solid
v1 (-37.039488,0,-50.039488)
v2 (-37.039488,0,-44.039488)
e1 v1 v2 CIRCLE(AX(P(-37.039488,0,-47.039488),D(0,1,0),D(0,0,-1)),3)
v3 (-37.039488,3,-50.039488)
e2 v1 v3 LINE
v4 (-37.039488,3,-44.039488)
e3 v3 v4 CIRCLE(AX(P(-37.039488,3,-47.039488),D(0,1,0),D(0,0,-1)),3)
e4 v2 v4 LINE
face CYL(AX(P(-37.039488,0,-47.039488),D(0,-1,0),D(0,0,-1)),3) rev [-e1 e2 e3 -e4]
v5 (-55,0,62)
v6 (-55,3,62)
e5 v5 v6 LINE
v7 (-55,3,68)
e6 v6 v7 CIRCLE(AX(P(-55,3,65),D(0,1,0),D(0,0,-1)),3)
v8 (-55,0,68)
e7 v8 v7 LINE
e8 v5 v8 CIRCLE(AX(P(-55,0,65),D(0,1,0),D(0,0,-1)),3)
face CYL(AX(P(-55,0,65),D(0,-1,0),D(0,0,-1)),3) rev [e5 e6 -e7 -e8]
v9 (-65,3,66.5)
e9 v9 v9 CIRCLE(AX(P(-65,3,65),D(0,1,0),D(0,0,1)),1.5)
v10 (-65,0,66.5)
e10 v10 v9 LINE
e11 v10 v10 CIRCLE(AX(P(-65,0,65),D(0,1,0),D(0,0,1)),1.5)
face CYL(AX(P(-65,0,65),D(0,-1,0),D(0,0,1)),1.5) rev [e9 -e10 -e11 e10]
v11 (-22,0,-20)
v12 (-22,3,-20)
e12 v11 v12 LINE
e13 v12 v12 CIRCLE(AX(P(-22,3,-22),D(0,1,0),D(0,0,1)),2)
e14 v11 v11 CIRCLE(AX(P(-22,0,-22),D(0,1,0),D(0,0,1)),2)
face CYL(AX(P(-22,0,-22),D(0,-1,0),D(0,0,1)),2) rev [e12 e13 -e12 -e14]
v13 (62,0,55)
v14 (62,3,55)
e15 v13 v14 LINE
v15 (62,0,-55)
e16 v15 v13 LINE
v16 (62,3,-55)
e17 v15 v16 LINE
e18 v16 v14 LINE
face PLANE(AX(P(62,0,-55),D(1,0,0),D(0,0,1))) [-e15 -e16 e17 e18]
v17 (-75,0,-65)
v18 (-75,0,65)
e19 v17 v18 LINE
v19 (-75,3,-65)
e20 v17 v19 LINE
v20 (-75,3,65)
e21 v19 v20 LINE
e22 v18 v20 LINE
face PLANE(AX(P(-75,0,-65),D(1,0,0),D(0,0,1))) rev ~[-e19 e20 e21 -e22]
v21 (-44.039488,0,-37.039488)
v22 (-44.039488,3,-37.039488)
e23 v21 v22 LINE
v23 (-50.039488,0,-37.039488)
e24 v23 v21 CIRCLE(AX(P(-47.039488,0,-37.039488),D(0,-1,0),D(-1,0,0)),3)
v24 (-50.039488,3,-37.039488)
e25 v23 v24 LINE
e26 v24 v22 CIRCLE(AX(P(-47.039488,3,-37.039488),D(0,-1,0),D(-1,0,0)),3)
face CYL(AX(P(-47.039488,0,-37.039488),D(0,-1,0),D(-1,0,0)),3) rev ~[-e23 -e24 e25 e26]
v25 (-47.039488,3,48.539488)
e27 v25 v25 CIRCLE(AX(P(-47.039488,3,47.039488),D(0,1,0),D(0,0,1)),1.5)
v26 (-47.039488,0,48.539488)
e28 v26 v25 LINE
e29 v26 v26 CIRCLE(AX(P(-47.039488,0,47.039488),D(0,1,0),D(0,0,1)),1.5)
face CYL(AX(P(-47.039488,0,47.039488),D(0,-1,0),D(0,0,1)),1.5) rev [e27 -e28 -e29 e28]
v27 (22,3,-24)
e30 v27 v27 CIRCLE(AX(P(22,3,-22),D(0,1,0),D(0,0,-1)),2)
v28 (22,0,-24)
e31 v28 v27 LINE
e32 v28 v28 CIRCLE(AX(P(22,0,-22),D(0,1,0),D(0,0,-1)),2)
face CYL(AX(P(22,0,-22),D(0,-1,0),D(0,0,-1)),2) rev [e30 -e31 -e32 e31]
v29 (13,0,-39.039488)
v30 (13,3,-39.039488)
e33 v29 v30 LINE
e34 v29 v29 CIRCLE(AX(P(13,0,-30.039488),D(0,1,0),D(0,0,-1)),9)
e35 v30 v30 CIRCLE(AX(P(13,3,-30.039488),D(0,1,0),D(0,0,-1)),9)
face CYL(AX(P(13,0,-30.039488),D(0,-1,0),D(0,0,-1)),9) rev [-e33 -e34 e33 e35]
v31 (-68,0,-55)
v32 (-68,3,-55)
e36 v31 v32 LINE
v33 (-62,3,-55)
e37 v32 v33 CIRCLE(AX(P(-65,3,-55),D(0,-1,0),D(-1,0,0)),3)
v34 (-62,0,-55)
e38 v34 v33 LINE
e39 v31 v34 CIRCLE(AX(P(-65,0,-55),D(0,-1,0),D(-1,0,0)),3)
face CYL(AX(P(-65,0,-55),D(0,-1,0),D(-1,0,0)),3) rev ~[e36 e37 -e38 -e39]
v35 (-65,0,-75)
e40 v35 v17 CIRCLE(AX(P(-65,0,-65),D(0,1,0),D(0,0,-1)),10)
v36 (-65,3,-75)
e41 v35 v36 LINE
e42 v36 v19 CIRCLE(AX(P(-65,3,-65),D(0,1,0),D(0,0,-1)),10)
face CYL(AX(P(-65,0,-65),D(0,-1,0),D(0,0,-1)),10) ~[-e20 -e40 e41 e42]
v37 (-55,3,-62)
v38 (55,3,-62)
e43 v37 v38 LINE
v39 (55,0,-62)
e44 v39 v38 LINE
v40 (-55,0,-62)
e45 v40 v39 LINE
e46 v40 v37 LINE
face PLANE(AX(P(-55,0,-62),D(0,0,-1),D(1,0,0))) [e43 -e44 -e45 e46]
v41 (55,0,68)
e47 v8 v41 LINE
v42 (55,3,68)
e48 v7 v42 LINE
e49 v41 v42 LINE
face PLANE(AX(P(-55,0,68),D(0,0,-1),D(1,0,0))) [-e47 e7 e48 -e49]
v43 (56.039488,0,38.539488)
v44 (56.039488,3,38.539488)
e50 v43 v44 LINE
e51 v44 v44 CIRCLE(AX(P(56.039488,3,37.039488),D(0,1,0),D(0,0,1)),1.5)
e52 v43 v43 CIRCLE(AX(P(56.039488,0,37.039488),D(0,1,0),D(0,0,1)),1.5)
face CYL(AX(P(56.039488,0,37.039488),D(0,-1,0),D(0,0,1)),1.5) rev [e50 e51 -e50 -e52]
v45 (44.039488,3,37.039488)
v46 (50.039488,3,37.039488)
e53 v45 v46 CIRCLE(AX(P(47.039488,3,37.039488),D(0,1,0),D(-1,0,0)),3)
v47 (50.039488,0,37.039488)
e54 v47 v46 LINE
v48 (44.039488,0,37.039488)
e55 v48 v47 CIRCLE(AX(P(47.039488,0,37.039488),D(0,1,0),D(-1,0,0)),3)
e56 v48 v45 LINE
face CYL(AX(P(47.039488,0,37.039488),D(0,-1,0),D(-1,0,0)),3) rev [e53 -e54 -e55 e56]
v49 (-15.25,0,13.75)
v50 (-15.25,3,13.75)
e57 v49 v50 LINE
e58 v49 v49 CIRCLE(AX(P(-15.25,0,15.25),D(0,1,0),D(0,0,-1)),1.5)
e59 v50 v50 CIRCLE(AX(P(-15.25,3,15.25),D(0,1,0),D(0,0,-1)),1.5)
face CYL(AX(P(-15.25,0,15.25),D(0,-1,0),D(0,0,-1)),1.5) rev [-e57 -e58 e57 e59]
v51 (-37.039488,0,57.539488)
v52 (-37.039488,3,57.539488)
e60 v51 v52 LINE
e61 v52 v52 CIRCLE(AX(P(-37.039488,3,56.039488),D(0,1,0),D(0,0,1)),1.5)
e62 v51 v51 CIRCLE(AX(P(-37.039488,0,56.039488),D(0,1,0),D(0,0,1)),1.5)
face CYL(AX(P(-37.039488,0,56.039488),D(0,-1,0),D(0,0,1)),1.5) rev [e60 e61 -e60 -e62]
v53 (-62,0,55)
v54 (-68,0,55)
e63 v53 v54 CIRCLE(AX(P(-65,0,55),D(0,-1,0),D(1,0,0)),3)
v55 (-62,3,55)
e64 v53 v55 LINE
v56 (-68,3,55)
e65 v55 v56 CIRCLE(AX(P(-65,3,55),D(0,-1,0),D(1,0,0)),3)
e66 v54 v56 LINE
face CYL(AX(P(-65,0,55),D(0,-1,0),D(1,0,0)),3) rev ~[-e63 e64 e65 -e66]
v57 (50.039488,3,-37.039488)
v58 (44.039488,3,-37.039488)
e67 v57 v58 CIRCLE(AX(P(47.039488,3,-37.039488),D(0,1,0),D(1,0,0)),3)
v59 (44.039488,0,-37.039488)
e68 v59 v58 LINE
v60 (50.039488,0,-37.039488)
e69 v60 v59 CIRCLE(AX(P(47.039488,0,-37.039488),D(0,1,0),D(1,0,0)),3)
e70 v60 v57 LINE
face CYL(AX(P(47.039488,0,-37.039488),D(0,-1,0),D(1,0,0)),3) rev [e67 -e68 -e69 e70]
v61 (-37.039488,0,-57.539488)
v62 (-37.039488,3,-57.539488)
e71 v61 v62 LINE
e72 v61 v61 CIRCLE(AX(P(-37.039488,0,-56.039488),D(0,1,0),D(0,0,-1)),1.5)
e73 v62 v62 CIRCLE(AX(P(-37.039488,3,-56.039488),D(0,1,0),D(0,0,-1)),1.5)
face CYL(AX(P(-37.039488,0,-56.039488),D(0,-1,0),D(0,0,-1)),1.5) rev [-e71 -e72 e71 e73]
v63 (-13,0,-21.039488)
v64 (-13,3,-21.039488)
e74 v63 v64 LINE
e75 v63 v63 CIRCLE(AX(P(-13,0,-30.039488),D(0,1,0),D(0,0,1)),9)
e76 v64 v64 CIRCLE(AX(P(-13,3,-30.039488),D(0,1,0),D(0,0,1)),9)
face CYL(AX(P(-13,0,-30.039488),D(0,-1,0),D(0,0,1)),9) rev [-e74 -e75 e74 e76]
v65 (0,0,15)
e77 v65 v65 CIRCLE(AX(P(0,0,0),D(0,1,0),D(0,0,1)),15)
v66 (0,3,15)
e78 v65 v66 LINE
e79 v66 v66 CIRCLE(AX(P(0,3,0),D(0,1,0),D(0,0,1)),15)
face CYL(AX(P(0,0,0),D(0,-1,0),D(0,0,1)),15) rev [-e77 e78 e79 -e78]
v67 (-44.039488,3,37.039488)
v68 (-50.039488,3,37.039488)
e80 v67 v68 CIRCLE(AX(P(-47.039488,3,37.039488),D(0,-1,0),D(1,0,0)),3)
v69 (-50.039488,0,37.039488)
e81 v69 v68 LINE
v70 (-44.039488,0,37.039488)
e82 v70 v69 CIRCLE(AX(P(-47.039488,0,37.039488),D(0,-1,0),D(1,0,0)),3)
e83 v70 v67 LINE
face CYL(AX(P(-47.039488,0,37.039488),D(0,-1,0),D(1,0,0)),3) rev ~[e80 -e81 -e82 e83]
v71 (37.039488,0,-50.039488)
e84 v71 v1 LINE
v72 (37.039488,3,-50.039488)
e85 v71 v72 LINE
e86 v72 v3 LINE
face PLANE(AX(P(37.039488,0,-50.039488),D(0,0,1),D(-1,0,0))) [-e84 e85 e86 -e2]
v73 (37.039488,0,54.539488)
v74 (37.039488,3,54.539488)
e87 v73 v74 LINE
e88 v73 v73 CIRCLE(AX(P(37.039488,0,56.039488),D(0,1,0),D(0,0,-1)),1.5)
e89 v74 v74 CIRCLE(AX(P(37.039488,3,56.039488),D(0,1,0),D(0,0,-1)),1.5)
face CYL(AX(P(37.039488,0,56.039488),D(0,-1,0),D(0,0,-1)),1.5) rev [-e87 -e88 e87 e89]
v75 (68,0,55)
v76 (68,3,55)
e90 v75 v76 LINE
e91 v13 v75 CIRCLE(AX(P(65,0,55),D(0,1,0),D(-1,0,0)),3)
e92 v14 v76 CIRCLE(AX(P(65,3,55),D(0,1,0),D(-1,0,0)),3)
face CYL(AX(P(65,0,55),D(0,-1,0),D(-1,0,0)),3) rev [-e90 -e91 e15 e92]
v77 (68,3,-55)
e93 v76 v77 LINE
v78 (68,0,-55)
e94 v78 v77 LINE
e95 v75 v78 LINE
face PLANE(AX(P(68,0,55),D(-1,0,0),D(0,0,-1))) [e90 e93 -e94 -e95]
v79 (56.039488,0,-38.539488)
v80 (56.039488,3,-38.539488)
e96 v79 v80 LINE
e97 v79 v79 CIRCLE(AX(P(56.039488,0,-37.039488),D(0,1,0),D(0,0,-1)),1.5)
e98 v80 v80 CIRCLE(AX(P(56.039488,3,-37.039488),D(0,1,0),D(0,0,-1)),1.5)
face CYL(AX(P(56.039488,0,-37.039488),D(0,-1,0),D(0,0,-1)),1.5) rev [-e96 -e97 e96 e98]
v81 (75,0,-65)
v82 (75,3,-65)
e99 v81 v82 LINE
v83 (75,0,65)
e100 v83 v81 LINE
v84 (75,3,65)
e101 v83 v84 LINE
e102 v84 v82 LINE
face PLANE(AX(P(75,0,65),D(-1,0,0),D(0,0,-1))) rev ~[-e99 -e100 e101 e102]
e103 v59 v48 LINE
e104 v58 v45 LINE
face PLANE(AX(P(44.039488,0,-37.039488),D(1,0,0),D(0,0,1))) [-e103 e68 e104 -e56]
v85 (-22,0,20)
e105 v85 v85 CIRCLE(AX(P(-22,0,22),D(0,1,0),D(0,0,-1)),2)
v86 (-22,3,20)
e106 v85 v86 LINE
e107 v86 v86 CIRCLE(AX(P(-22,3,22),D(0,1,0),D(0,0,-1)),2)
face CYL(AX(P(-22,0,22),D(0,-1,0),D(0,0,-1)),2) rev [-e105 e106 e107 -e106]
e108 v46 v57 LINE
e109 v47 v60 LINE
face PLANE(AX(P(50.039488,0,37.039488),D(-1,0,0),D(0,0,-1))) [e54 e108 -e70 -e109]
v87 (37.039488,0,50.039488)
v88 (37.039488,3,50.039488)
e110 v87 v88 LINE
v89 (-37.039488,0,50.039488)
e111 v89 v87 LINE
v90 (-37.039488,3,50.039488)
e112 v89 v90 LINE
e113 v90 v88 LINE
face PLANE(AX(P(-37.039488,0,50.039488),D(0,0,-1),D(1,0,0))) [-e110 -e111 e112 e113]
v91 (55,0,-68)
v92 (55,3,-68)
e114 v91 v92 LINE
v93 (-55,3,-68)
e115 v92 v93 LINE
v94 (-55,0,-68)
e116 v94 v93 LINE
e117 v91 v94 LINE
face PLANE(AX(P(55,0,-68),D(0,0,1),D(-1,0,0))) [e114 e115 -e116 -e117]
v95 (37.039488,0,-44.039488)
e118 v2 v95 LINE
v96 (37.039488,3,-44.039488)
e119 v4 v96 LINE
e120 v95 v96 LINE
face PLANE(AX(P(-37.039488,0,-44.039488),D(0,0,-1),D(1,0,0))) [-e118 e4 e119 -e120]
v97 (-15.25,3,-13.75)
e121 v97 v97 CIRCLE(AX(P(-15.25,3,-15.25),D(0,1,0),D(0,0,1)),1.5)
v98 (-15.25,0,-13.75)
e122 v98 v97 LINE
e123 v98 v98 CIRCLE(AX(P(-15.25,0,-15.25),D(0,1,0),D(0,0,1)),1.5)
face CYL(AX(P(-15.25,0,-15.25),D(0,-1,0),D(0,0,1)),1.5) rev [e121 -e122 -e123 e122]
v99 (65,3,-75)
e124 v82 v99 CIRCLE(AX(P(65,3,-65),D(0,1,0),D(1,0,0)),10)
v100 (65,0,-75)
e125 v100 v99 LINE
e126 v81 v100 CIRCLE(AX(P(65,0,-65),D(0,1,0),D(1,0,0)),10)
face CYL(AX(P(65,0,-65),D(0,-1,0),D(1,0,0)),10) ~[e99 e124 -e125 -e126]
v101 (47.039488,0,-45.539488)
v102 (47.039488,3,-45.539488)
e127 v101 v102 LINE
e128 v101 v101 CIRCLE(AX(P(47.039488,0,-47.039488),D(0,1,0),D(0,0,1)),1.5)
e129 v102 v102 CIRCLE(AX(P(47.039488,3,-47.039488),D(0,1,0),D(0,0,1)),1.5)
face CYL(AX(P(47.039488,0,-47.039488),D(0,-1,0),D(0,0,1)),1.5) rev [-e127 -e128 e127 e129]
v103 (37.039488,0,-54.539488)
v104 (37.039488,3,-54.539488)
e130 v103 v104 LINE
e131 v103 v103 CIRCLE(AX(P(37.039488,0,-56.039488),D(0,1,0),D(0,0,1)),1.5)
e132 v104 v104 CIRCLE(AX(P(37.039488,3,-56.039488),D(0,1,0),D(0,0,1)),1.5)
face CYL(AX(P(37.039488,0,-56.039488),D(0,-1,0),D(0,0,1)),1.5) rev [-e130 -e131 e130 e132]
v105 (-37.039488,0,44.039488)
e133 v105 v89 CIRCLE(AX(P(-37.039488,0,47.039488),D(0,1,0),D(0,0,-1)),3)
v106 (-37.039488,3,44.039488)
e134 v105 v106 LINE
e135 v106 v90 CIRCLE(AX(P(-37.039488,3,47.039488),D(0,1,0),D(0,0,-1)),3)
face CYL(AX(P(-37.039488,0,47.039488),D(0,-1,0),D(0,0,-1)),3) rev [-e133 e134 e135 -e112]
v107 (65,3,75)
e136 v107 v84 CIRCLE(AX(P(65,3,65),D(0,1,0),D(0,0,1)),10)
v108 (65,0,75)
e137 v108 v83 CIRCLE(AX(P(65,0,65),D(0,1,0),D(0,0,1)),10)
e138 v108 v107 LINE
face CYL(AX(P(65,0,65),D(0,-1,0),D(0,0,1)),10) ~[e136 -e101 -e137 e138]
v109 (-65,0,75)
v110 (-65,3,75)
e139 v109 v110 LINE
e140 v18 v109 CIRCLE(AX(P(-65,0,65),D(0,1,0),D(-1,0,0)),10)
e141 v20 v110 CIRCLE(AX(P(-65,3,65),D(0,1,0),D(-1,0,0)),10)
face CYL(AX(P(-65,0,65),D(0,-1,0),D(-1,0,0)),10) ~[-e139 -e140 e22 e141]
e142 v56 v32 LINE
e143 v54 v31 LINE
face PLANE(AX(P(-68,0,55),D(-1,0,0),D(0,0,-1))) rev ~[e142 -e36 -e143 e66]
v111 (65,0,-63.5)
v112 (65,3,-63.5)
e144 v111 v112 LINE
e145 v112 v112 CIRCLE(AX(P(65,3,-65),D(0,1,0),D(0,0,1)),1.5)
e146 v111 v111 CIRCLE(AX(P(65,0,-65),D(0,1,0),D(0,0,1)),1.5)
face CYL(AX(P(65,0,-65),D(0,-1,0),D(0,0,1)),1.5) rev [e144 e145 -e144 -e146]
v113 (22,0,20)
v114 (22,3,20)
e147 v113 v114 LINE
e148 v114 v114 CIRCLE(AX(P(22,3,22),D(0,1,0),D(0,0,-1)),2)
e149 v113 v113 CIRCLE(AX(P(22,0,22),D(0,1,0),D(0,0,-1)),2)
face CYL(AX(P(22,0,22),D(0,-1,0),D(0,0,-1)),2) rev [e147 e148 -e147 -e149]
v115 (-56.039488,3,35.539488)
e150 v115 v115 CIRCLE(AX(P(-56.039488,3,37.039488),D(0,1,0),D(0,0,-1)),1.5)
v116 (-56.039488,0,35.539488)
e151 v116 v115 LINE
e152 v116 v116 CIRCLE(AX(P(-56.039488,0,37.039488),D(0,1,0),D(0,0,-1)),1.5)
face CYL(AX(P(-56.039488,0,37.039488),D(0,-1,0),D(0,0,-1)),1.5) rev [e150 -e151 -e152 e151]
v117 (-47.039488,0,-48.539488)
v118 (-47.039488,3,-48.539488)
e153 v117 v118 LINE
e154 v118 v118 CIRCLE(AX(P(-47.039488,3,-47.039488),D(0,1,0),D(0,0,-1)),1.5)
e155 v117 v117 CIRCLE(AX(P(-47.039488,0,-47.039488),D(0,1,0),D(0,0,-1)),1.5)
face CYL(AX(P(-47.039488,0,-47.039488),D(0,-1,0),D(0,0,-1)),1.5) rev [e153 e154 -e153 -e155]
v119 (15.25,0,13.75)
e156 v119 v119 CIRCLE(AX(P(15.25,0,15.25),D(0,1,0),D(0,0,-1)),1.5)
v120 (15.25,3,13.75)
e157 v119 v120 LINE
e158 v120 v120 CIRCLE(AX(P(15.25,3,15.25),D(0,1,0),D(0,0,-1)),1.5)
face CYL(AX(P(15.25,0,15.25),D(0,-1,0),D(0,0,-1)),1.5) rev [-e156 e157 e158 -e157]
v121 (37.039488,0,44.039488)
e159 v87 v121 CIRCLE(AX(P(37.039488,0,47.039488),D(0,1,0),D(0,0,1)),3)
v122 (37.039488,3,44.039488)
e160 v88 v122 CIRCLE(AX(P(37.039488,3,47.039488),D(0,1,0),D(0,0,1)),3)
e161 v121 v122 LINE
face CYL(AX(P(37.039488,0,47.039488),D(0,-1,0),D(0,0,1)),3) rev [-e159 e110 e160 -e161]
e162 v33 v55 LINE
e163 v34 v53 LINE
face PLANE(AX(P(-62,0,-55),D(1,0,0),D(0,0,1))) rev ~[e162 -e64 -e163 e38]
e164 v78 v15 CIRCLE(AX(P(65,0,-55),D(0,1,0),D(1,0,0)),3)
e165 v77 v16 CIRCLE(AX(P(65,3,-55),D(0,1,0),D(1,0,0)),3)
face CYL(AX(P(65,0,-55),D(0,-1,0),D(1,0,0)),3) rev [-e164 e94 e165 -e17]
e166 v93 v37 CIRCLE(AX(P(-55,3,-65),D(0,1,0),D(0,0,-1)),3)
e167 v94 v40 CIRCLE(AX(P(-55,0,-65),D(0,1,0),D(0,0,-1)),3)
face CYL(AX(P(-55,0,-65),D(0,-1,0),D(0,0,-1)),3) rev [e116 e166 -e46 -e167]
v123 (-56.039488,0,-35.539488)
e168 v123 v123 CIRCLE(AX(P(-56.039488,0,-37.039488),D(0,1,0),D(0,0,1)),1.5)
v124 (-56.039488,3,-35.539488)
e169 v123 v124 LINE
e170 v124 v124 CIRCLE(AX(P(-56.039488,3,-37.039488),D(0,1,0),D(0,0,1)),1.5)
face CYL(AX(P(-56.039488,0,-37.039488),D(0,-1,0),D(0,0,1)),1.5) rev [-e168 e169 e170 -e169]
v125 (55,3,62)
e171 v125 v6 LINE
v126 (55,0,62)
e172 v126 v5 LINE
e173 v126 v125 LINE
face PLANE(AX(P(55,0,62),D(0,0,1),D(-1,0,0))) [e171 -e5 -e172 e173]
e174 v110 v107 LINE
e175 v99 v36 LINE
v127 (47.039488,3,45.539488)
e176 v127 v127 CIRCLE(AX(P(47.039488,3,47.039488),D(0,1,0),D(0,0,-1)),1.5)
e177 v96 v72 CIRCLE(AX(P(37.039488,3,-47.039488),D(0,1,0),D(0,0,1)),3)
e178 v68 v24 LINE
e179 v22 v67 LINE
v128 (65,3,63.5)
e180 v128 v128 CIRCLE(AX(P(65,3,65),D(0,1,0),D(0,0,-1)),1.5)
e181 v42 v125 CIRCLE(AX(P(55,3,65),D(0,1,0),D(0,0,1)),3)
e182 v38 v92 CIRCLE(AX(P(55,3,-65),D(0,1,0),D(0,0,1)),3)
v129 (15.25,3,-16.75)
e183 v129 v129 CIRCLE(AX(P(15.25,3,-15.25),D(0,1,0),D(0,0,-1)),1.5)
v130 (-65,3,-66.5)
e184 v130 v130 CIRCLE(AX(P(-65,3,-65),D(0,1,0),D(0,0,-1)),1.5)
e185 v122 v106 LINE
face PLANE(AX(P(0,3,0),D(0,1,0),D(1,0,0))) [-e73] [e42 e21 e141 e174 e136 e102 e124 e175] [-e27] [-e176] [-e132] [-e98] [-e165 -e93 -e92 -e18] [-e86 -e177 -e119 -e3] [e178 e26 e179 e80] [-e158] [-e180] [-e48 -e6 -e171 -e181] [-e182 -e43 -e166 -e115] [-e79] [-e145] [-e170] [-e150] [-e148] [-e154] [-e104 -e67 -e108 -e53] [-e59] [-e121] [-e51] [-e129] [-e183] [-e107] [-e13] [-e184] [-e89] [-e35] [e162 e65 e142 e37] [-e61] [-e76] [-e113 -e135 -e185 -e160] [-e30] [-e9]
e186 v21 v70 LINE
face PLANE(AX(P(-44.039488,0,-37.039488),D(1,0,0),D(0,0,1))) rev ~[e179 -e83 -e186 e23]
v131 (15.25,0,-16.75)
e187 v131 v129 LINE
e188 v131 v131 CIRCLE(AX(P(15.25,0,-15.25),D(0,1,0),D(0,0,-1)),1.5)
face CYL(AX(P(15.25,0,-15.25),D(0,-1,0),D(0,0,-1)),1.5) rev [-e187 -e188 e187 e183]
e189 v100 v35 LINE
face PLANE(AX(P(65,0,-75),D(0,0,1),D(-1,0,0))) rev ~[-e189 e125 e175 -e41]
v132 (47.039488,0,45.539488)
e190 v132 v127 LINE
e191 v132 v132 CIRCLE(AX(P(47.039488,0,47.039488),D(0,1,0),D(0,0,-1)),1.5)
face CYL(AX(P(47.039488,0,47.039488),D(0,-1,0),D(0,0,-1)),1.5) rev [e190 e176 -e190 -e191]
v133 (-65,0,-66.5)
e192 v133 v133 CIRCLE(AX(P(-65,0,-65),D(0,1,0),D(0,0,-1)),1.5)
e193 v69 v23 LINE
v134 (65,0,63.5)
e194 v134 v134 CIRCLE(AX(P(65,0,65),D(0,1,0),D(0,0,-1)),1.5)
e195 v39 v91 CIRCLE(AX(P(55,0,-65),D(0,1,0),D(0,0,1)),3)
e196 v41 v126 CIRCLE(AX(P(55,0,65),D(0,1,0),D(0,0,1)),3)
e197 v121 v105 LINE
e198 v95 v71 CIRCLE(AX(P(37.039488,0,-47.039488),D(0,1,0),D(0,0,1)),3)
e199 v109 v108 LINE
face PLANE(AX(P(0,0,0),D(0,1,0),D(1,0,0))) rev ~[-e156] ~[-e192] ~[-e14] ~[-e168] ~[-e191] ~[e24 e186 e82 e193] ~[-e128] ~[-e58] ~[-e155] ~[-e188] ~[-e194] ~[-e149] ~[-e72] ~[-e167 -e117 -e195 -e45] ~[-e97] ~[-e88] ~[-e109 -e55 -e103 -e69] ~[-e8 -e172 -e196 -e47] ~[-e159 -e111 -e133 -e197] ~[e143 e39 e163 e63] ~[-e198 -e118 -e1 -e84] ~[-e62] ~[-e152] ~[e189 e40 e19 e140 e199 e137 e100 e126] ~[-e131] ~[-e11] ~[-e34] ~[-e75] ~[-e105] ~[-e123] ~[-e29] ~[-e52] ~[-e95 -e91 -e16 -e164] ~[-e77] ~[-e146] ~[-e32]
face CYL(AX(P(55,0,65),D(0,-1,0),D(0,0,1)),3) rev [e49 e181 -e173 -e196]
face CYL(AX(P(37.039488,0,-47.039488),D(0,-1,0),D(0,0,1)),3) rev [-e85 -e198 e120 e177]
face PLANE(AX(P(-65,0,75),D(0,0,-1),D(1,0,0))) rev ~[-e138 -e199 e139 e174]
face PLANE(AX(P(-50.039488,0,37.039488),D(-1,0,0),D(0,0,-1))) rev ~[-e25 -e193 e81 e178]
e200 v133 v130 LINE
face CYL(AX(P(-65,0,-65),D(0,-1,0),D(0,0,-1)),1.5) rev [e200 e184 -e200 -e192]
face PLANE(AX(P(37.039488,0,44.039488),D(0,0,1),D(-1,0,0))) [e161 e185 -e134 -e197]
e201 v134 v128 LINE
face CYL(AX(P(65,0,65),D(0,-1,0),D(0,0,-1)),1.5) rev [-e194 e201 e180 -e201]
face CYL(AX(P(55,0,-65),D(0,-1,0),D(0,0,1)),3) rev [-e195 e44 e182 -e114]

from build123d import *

# Parameters (mm, degrees)
SKETCH1_R           = 1.5
SKETCH1_R_2         = 15
SKETCH1_R_3         = 9
SKETCH1_R_4         = 2
BOSS_EXTRUDE1_DEPTH = 3


with BuildPart() as part:
    # Sketch1 → Boss-Extrude1 (new body)
    with BuildSketch(Plane(origin=(0, 0, 0), x_dir=(1, 0, 0), z_dir=(0, 1, 0))):
        with BuildLine():
            Line((-65, -75), (65, -75))
            ThreePointArc((65, -75), (72.071067812, -72.071067812), (75, -65))
            Line((75, -65), (75, 65))
            ThreePointArc((75, 65), (72.071067812, 72.071067812), (65, 75))
            Line((65, 75), (-65, 75))
            ThreePointArc((-65, 75), (-72.071067812, 72.071067812), (-75, 65))
            Line((-75, 65), (-75, -65))
            ThreePointArc((-75, -65), (-72.071067812, -72.071067812), (-65, -75))
        make_face()
        with Locations(Location((65, 65, 0), (0, 0, 270))):
            Circle(SKETCH1_R, mode=Mode.SUBTRACT)
        with Locations(Location((47.039487758, 47.039487758, 0), (0, 0, 270))):
            Circle(SKETCH1_R, mode=Mode.SUBTRACT)
        with Locations(Location((-65, 65, 0), (0, 0, 90))):
            Circle(SKETCH1_R, mode=Mode.SUBTRACT)
        with Locations(Location((-47.039487758, 47.039487758, 0), (0, 0, 90))):
            Circle(SKETCH1_R, mode=Mode.SUBTRACT)
        with Locations(Location((65, -65, 0), (0, 0, 90))):
            Circle(SKETCH1_R, mode=Mode.SUBTRACT)
        with Locations(Location((47.039487758, -47.039487758, 0), (0, 0, 90))):
            Circle(SKETCH1_R, mode=Mode.SUBTRACT)
        with Locations(Location((-65, -65, 0), (0, 0, 270))):
            Circle(SKETCH1_R, mode=Mode.SUBTRACT)
        with Locations(Location((-47.039487758, -47.039487758, 0), (0, 0, 270))):
            Circle(SKETCH1_R, mode=Mode.SUBTRACT)
        with Locations(Location((0, 0, 0), (0, 0, 270))):
            Circle(SKETCH1_R_2, mode=Mode.SUBTRACT)
        with Locations(Location((-56.039487758, 37.039487758, 0), (0, 0, 270))):
            Circle(SKETCH1_R, mode=Mode.SUBTRACT)
        with Locations(Location((-56.039487758, -37.039487758, 0), (0, 0, 90))):
            Circle(SKETCH1_R, mode=Mode.SUBTRACT)
        with Locations(Location((56.039487758, -37.039487758, 0), (0, 0, 270))):
            Circle(SKETCH1_R, mode=Mode.SUBTRACT)
        with Locations(Location((56.039487758, 37.039487758, 0), (0, 0, 90))):
            Circle(SKETCH1_R, mode=Mode.SUBTRACT)
        with Locations(Location((-37.039487758, 56.039487758, 0), (0, 0, 90))):
            Circle(SKETCH1_R, mode=Mode.SUBTRACT)
        with Locations(Location((37.039487758, 56.039487758, 0), (0, 0, 270))):
            Circle(SKETCH1_R, mode=Mode.SUBTRACT)
        with Locations(Location((-37.039487758, -56.039487758, 0), (0, 0, 270))):
            Circle(SKETCH1_R, mode=Mode.SUBTRACT)
        with Locations(Location((37.039487758, -56.039487758, 0), (0, 0, 90))):
            Circle(SKETCH1_R, mode=Mode.SUBTRACT)
        with Locations(Location((-15.25, 15.25, 0), (0, 0, 270))):
            Circle(SKETCH1_R, mode=Mode.SUBTRACT)
        with Locations(Location((15.25, 15.25, 0), (0, 0, 90))):
            Circle(SKETCH1_R, mode=Mode.SUBTRACT)
        with Locations(Location((-15.25, -15.25, 0), (0, 0, 90))):
            Circle(SKETCH1_R, mode=Mode.SUBTRACT)
        with Locations(Location((15.25, -15.25, 0), (0, 0, 90))):
            Circle(SKETCH1_R, mode=Mode.SUBTRACT)
        with Locations(Location((-13, 30.039487758, 0), (0, 0, 270))):
            Circle(SKETCH1_R_3, mode=Mode.SUBTRACT)
        with Locations(Location((13, 30.039487758, 0), (0, 0, 90))):
            Circle(SKETCH1_R_3, mode=Mode.SUBTRACT)
        with Locations(Location((-22, 22, 0), (0, 0, 270))):
            Circle(SKETCH1_R_4, mode=Mode.SUBTRACT)
        with Locations(Location((22, 22, 0), (0, 0, 90))):
            Circle(SKETCH1_R_4, mode=Mode.SUBTRACT)
        with Locations(Location((22, -22, 0), (0, 0, 90))):
            Circle(SKETCH1_R_4, mode=Mode.SUBTRACT)
        with Locations(Location((-22, -22, 0), (0, 0, 90))):
            Circle(SKETCH1_R_4, mode=Mode.SUBTRACT)
        with BuildLine():
            Line((-44.039487758, 37.039487758), (-44.039487758, -37.039487758))
            ThreePointArc((-44.039487758, -37.039487758), (-47.039487758, -40.039487758), (-50.039487758, -37.039487758))
            Line((-50.039487758, -37.039487758), (-50.039487758, 37.039487758))
            ThreePointArc((-50.039487758, 37.039487758), (-47.039487758, 40.039487758), (-44.039487758, 37.039487758))
        make_face(mode=Mode.SUBTRACT)
        with BuildLine():
            Line((44.039487758, 37.039487758), (44.039487758, -37.039487758))
            ThreePointArc((44.039487758, -37.039487758), (47.039487758, -40.039487758), (50.039487758, -37.039487758))
            Line((50.039487758, -37.039487758), (50.039487758, 37.039487758))
            ThreePointArc((50.039487758, 37.039487758), (47.039487758, 40.039487758), (44.039487758, 37.039487758))
        make_face(mode=Mode.SUBTRACT)
        with BuildLine():
            Line((-37.039487758, 44.039487758), (37.039487758, 44.039487758))
            ThreePointArc((37.039487758, 44.039487758), (40.039487758, 47.039487758), (37.039487758, 50.039487758))
            Line((37.039487758, 50.039487758), (-37.039487758, 50.039487758))
            ThreePointArc((-37.039487758, 50.039487758), (-40.039487758, 47.039487758), (-37.039487758, 44.039487758))
        make_face(mode=Mode.SUBTRACT)
        with BuildLine():
            Line((37.039487758, -44.039487758), (-37.039487758, -44.039487758))
            ThreePointArc((-37.039487758, -44.039487758), (-40.039487758, -47.039487758), (-37.039487758, -50.039487758))
            Line((-37.039487758, -50.039487758), (37.039487758, -50.039487758))
            ThreePointArc((37.039487758, -50.039487758), (40.039487758, -47.039487758), (37.039487758, -44.039487758))
        make_face(mode=Mode.SUBTRACT)
        with BuildLine():
            Line((-62, 55), (-62, -55))
            ThreePointArc((-62, -55), (-65, -58), (-68, -55))
            Line((-68, -55), (-68, 55))
            ThreePointArc((-68, 55), (-65, 58), (-62, 55))
        make_face(mode=Mode.SUBTRACT)
        with BuildLine():
            Line((62, 55), (62, -55))
            ThreePointArc((62, -55), (65, -58), (68, -55))
            Line((68, -55), (68, 55))
            ThreePointArc((68, 55), (65, 58), (62, 55))
        make_face(mode=Mode.SUBTRACT)
        with BuildLine():
            Line((-55, 62), (55, 62))
            ThreePointArc((55, 62), (58, 65), (55, 68))
            Line((55, 68), (-55, 68))
            ThreePointArc((-55, 68), (-58, 65), (-55, 62))
        make_face(mode=Mode.SUBTRACT)
        with BuildLine():
            Line((55, -62), (-55, -62))
            ThreePointArc((-55, -62), (-58, -65), (-55, -68))
            Line((-55, -68), (55, -68))
            ThreePointArc((55, -68), (58, -65), (55, -62))
        make_face(mode=Mode.SUBTRACT)
    extrude(amount=BOSS_EXTRUDE1_DEPTH)


solid = part.part
